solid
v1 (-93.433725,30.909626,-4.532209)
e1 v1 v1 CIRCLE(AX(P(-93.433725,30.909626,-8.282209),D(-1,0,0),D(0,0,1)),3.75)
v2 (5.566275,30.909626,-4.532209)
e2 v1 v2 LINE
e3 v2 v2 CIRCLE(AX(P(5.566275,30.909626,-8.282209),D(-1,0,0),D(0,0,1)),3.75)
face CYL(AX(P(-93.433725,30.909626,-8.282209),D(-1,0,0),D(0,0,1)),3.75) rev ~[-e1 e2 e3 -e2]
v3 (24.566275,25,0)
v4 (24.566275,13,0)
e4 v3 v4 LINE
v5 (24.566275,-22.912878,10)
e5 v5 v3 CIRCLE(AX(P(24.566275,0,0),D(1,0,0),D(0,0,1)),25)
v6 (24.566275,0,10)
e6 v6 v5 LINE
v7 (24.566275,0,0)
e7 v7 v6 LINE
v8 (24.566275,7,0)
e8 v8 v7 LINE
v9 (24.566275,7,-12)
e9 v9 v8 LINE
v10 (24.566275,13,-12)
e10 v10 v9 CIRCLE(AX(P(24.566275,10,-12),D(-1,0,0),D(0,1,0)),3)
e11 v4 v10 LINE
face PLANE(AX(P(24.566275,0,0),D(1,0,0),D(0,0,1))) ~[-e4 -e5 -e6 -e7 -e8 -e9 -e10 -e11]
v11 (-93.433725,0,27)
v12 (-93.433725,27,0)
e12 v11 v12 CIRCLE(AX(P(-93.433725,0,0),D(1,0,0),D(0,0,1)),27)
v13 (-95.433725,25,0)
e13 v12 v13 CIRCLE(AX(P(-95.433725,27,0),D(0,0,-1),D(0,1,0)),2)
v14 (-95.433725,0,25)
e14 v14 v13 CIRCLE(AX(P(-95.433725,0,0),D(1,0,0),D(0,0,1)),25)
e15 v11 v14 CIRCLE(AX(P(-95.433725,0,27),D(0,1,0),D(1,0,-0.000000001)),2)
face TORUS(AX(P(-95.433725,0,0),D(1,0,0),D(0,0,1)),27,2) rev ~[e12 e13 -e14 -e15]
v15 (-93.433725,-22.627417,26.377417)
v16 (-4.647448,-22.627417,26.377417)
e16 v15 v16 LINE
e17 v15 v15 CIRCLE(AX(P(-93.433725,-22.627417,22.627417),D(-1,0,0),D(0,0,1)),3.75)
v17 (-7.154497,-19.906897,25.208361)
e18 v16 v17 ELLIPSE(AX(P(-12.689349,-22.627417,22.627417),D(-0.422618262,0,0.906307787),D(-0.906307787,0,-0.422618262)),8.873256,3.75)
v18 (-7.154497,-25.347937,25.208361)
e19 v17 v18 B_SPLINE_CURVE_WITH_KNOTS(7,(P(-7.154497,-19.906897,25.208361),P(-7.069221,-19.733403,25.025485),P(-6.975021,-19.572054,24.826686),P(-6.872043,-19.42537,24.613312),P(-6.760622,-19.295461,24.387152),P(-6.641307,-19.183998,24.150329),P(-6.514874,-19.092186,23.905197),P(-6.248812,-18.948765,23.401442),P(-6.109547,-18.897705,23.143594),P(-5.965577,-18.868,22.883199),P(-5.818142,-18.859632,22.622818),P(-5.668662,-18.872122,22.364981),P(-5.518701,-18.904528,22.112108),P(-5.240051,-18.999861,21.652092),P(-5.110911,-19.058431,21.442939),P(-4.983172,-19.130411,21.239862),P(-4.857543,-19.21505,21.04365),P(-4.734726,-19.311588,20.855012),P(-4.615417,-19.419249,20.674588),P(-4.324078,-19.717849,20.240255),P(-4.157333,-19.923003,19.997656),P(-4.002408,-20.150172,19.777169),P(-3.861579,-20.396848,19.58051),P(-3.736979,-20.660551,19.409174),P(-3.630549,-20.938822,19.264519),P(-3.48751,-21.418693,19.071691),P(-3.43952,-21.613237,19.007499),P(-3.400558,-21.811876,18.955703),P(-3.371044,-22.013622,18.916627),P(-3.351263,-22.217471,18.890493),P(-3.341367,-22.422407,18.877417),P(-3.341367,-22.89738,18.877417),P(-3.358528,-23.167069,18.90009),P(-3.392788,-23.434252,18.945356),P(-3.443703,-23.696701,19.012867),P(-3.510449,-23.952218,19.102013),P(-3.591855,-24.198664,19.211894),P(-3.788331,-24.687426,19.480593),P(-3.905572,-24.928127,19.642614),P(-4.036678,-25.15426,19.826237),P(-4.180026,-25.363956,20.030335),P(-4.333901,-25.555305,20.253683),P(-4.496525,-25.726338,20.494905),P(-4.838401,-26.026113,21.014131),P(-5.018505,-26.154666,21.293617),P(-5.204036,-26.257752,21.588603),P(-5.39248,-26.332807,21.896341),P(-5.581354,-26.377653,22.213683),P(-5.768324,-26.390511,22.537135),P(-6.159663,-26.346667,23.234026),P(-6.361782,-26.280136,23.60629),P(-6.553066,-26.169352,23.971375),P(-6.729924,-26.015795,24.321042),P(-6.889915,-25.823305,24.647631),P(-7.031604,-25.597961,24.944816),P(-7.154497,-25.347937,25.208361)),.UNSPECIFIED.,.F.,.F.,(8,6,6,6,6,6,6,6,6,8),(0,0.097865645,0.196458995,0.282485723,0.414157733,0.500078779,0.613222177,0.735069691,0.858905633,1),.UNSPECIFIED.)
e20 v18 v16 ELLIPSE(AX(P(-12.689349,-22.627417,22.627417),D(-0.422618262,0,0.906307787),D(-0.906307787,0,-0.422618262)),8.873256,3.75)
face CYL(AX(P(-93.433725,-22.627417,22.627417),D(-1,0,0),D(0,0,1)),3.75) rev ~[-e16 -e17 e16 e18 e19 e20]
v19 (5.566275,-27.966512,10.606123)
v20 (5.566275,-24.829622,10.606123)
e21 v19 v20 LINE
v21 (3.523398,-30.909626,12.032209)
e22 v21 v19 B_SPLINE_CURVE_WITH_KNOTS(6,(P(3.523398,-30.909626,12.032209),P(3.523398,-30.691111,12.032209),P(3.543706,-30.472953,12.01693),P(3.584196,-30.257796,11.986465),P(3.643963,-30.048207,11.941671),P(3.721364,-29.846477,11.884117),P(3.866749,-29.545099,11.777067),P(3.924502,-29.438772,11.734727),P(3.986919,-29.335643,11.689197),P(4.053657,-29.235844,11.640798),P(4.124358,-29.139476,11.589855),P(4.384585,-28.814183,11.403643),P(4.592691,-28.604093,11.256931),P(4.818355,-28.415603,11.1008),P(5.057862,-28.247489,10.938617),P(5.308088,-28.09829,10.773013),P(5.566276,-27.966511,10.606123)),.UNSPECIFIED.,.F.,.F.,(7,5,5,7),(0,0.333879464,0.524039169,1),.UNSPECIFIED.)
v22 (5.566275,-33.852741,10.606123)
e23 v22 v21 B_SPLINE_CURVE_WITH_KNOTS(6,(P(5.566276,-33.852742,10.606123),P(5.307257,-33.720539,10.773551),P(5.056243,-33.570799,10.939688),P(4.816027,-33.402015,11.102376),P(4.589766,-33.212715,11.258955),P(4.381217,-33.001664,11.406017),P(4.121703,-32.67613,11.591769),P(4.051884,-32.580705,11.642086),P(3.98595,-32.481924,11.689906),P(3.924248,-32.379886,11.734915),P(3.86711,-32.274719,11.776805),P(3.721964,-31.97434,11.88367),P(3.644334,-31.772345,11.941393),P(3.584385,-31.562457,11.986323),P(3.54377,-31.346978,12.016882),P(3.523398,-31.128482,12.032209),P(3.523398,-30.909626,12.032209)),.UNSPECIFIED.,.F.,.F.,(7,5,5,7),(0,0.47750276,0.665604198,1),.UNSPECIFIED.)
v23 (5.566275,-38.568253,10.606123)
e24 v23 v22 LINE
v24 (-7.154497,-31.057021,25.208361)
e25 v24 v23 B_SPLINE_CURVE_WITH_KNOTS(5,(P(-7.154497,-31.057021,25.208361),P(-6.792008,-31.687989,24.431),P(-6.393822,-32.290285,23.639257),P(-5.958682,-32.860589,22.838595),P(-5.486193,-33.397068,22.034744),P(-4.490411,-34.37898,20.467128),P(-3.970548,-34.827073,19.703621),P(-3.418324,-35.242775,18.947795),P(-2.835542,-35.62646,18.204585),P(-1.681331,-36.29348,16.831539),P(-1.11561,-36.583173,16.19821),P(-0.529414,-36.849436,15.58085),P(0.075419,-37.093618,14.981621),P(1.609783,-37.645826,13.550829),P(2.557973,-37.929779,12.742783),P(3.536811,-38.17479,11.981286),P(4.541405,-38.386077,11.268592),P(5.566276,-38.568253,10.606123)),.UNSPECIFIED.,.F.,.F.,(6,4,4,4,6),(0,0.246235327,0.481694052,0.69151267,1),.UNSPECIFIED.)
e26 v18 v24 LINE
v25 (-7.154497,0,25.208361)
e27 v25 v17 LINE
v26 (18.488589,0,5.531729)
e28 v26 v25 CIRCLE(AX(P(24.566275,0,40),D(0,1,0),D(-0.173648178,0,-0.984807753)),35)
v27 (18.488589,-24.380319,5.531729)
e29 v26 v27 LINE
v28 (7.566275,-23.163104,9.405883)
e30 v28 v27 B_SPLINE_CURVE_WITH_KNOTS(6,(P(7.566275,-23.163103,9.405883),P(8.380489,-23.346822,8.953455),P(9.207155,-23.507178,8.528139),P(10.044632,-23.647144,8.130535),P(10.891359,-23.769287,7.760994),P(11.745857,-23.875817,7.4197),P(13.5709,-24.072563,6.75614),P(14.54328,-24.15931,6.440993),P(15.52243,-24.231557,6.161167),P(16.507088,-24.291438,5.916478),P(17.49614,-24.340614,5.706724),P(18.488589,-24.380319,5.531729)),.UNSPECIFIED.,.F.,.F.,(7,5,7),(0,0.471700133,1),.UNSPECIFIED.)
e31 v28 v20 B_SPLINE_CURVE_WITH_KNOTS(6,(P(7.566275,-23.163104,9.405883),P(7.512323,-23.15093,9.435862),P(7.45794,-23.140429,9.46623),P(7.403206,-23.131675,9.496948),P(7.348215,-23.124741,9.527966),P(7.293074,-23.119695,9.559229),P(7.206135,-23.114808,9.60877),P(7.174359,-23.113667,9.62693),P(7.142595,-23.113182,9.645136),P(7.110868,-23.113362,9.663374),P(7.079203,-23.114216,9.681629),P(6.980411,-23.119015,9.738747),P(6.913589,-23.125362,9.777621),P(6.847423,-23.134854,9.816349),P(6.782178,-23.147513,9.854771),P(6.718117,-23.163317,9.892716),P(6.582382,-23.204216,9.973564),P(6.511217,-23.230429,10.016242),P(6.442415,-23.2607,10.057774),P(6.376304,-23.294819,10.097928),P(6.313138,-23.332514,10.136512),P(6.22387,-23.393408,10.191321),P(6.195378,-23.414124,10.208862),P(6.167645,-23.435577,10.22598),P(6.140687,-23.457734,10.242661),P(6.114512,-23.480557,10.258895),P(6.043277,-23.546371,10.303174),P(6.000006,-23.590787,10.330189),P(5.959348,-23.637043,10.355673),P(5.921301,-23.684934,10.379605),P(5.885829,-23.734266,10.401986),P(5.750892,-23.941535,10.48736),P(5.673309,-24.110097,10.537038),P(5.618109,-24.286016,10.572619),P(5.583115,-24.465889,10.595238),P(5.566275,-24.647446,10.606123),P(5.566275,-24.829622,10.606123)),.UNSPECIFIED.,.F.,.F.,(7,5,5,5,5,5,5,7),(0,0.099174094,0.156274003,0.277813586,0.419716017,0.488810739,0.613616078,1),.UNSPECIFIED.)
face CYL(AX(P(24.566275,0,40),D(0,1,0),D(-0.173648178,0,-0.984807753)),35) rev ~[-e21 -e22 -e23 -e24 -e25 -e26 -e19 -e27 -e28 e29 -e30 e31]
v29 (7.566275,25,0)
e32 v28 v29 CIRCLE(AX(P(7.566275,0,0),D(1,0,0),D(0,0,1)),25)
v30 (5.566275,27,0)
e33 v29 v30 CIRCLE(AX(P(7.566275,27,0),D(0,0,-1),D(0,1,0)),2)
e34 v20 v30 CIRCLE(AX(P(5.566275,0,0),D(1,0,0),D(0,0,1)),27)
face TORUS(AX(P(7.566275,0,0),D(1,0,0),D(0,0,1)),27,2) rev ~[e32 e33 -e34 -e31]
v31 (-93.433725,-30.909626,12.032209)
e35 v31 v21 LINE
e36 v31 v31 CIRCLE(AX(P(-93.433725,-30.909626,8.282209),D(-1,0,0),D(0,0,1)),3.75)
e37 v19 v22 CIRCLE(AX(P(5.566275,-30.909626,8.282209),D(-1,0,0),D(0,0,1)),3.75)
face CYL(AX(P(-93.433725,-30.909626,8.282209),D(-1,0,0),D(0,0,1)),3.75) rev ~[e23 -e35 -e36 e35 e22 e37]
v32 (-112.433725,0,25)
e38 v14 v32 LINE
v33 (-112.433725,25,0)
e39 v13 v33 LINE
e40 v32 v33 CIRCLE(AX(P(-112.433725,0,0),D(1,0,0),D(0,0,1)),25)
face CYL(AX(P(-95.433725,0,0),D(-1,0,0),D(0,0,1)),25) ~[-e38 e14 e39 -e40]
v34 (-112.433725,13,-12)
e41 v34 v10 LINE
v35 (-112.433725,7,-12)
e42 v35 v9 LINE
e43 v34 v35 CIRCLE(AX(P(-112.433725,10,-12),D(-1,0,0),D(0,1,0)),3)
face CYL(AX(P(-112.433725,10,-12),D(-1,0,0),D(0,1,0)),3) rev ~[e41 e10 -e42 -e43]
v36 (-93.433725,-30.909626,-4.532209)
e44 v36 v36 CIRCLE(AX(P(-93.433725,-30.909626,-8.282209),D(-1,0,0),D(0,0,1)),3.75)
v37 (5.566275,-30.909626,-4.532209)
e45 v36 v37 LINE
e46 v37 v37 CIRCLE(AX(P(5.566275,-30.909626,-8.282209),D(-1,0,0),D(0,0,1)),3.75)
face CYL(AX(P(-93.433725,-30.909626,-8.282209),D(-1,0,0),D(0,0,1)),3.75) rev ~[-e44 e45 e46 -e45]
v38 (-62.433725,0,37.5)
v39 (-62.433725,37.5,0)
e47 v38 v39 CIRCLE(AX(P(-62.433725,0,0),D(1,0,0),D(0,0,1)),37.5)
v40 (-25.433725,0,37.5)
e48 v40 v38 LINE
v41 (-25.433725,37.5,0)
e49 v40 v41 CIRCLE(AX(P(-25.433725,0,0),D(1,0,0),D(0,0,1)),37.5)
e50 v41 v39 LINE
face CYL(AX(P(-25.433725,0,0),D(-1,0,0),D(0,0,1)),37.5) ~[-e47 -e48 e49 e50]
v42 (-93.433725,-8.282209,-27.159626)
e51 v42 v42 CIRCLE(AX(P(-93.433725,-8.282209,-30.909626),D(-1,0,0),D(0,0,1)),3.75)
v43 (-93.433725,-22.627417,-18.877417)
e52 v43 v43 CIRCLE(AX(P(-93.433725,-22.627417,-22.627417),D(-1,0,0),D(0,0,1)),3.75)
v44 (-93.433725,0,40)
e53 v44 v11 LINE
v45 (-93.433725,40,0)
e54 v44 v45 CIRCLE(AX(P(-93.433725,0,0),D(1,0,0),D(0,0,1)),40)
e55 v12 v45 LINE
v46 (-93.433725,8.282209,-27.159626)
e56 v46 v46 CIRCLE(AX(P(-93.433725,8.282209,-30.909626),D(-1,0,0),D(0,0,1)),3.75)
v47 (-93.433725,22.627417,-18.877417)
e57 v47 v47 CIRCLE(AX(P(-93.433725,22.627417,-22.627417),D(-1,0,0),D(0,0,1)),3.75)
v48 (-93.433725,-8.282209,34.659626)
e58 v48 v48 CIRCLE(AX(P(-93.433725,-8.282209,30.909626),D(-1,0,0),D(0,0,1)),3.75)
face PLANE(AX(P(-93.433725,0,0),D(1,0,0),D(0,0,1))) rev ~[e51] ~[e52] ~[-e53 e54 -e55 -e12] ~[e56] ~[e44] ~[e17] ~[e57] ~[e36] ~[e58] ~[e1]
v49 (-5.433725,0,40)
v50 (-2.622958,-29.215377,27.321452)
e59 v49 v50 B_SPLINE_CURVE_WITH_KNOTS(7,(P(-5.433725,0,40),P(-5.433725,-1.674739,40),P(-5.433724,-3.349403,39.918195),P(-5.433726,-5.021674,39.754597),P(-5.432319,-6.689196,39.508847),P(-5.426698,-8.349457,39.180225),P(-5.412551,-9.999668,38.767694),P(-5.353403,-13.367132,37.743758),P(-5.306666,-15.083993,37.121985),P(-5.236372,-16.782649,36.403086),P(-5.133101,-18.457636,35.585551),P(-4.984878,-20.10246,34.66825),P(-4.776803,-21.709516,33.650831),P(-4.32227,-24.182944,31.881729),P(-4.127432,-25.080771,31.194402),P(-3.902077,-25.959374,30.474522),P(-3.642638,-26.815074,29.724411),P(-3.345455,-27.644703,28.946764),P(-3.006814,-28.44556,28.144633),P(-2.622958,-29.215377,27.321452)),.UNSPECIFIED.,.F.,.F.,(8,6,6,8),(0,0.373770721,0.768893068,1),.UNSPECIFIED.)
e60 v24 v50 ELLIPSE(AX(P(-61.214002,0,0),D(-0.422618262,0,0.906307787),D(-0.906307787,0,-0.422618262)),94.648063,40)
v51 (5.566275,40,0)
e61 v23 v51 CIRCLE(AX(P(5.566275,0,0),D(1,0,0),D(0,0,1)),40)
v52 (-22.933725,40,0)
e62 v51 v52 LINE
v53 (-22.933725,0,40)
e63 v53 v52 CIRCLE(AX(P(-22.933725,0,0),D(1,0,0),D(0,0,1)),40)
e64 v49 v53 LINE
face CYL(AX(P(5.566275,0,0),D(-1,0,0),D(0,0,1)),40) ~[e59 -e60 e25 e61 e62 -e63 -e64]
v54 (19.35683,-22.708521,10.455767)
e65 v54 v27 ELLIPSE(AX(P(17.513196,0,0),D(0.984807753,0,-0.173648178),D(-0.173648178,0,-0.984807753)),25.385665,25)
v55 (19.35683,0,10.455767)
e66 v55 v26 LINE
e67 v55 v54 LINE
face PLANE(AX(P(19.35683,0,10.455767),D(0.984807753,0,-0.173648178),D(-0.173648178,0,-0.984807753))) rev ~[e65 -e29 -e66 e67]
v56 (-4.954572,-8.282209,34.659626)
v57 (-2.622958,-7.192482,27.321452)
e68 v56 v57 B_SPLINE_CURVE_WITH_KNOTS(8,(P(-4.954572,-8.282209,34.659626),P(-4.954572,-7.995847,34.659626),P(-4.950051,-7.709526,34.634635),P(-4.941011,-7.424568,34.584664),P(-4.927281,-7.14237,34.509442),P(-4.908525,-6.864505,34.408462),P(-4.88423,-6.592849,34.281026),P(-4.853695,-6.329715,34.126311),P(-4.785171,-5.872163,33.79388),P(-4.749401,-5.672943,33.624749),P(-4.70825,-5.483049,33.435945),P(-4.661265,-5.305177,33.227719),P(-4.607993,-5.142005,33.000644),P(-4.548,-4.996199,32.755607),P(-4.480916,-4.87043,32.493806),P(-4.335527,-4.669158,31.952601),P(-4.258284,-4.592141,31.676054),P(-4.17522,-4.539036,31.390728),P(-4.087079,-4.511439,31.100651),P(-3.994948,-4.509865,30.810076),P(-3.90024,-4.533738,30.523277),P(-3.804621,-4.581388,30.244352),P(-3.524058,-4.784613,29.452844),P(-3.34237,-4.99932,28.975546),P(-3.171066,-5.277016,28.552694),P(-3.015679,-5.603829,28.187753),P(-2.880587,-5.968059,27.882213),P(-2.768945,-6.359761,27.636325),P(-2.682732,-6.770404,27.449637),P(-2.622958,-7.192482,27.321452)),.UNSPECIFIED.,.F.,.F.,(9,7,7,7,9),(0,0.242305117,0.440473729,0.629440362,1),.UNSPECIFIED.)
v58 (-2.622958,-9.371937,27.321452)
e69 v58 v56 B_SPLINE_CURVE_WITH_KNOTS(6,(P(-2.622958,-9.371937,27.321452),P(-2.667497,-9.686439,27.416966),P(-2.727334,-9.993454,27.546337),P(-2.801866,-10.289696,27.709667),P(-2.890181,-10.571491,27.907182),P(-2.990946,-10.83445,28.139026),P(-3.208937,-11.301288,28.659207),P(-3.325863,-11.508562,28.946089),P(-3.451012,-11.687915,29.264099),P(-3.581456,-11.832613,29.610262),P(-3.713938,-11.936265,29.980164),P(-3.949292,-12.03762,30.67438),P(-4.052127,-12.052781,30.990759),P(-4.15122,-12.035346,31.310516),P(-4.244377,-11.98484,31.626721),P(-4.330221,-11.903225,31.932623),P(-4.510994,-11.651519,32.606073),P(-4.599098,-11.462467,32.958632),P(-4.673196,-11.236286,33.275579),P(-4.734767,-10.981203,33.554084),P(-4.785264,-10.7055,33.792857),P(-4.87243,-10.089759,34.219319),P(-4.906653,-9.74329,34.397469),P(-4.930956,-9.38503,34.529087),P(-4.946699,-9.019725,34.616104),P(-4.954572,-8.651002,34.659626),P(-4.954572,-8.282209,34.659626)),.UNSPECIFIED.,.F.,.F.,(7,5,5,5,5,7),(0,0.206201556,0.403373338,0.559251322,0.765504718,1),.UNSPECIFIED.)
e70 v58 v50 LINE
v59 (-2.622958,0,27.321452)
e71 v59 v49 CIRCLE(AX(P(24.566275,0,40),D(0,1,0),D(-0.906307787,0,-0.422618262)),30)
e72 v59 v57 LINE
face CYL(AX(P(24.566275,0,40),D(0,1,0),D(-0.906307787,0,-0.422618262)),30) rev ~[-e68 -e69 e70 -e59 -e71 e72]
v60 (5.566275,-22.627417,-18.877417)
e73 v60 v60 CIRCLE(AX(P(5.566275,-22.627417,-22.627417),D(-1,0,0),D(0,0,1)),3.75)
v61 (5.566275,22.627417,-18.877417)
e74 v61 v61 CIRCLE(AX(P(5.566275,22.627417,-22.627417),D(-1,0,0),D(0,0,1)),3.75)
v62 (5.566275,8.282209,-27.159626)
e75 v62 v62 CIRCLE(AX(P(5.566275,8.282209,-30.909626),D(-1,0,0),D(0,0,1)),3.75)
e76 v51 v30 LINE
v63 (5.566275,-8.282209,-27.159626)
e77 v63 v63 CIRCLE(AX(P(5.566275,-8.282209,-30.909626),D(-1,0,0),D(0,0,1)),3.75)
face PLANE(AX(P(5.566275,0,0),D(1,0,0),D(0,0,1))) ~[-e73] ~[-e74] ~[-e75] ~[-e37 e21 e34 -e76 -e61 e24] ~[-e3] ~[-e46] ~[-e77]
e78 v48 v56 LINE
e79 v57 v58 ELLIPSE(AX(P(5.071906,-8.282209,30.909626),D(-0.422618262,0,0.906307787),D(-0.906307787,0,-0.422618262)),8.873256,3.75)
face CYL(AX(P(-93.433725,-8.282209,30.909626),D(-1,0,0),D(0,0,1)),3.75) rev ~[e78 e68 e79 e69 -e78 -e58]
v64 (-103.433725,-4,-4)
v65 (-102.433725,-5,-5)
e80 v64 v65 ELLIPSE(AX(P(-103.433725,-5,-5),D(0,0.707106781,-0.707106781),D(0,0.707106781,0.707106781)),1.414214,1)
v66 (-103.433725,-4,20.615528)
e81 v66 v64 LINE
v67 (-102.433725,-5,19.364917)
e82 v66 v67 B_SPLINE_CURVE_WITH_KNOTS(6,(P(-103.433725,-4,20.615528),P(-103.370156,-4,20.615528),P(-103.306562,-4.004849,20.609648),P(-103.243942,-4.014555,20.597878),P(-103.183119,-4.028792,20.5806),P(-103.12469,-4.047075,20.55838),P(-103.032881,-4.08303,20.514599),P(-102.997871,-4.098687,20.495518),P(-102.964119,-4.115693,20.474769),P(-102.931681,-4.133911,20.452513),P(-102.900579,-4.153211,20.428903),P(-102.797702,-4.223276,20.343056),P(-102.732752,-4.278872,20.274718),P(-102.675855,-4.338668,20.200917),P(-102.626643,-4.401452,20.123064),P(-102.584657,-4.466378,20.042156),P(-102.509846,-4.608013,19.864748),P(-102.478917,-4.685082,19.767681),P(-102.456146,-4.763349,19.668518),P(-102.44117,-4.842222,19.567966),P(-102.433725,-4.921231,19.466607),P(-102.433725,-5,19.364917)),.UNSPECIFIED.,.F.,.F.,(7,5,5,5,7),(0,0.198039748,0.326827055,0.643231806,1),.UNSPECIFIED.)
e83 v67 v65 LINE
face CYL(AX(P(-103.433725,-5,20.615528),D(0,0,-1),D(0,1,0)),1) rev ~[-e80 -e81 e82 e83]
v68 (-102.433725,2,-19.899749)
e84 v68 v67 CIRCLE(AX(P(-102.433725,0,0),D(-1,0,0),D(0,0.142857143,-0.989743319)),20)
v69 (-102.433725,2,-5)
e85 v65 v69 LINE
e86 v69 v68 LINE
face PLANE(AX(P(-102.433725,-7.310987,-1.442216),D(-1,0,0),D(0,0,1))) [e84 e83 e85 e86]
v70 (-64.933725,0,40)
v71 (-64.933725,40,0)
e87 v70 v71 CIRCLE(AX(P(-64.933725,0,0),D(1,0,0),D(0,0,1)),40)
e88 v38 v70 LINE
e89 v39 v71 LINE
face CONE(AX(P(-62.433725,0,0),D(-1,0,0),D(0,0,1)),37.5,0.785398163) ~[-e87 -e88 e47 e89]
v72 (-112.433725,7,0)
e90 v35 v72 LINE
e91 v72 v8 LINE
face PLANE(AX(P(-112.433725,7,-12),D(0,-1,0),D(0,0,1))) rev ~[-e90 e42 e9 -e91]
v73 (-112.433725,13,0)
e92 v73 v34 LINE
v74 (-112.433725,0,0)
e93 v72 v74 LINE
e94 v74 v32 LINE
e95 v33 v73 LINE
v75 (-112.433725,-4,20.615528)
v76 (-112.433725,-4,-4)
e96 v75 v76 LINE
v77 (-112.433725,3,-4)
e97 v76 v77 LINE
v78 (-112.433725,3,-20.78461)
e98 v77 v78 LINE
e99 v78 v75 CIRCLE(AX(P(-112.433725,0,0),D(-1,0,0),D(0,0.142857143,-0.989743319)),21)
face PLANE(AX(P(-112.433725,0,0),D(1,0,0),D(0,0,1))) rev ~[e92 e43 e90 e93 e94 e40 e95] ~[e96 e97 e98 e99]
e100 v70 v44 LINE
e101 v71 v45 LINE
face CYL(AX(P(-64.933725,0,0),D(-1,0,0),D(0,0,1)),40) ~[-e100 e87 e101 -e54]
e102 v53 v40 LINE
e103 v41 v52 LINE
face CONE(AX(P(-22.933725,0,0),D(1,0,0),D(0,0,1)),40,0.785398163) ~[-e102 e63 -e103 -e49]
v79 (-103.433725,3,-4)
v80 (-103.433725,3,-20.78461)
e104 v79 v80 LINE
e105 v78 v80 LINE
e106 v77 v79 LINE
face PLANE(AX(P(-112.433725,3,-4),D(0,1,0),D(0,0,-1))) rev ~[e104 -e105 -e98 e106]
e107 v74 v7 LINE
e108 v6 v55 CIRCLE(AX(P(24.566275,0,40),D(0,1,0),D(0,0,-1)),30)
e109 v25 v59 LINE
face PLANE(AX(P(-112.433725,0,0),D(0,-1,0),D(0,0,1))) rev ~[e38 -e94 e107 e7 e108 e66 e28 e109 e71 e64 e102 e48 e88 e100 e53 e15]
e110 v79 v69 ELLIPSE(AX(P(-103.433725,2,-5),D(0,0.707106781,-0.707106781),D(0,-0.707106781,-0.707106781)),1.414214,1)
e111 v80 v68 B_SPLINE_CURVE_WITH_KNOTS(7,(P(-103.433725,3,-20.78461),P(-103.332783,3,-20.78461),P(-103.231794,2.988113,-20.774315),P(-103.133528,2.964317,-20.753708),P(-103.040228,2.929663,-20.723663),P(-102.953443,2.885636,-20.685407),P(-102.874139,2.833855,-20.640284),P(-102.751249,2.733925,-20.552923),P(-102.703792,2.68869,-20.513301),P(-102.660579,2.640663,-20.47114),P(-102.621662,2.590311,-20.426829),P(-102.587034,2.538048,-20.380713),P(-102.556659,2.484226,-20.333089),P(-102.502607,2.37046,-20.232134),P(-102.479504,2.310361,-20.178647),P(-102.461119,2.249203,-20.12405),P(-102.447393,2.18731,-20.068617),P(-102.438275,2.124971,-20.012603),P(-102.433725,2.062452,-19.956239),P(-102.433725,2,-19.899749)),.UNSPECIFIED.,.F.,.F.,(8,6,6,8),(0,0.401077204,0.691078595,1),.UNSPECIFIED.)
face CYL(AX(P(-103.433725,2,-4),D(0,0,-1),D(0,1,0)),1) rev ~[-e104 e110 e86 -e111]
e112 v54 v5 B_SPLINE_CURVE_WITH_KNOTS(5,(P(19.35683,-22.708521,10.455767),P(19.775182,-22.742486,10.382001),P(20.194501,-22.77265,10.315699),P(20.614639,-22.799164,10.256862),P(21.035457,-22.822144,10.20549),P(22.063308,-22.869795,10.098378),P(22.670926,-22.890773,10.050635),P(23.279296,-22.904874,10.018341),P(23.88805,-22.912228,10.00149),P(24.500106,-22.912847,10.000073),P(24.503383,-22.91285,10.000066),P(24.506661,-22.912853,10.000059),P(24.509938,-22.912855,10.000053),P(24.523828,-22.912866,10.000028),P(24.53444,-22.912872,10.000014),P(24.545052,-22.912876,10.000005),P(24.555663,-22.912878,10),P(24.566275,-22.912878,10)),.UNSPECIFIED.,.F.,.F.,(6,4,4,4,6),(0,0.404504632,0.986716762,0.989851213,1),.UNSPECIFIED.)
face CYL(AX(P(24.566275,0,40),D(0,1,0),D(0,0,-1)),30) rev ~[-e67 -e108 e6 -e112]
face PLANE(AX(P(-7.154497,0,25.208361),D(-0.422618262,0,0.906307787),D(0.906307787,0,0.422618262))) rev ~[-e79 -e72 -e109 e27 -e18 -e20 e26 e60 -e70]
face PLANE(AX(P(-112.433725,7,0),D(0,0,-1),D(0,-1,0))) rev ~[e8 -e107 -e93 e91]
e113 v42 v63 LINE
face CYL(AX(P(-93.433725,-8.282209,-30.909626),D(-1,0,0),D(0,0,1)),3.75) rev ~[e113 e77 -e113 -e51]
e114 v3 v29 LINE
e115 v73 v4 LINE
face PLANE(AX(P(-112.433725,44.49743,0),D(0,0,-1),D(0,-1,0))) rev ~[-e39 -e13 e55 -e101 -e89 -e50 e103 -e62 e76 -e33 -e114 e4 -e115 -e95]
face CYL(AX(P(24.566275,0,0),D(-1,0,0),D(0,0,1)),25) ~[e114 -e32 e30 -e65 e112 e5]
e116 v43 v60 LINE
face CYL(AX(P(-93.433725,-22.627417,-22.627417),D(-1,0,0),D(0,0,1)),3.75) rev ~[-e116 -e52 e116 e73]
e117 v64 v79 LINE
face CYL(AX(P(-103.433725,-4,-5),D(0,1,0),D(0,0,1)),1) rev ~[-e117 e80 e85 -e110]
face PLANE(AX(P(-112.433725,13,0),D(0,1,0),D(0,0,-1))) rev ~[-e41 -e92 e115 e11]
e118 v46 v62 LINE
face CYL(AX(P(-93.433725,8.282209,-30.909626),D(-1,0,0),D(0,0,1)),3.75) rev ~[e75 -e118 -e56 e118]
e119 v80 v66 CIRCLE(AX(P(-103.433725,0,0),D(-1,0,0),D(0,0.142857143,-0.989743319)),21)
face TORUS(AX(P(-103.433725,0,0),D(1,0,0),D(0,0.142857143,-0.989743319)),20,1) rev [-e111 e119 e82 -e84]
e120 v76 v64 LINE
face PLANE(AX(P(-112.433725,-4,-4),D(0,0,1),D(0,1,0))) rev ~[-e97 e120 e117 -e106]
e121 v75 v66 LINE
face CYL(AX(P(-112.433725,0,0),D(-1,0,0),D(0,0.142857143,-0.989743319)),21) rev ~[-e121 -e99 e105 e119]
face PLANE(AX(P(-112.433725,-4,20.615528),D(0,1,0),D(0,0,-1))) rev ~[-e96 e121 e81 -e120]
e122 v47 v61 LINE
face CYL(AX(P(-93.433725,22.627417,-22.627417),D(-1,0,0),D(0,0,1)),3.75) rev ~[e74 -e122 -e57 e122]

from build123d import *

# Parameters (mm, degrees)
ENL_V_MAT_EXTRU_1_DEPTH = 149.219431924
ESQUISSE3_R             = 3.75
ENL_V_MAT_EXTRU_2_DEPTH = 131.858702424
ENL_V_MAT_EXTRU_3_DEPTH = 126.862394907
ENL_V_MAT_EXTRU_4_DEPTH = 10
CONG_1_R                = 1


with BuildPart() as part:
    # Esquisse1 → Révolution1 (revolve)
    with BuildSketch(Plane.XY, mode=Mode.PRIVATE) as r_volution1_sk:
        with BuildLine():
            Line((0, 0), (24.566275292, 0))
            Line((24.566275292, 0), (24.566275292, 25))
            Line((24.566275292, 25), (7.566275292, 25))
            ThreePointArc((7.566275292, 25), (6.152061729, 25.585786438), (5.566275292, 27))
            Line((5.566275292, 27), (5.566275292, 40))
            Line((5.566275292, 40), (-22.933724708, 40))
            Line((-22.933724708, 40), (-25.433724708, 37.5))
            Line((-25.433724708, 37.5), (-62.433724708, 37.5))
            Line((-62.433724708, 37.5), (-64.933724708, 40))
            Line((-64.933724708, 40), (-93.433724708, 40))
            Line((-93.433724708, 40), (-93.433724708, 27))
            ThreePointArc((-93.433724708, 27), (-94.019511146, 25.585786438), (-95.433724708, 25))
            Line((-95.433724708, 25), (-112.433724708, 25))
            Line((-112.433724708, 25), (-112.433724708, 0))
            Line((-112.433724708, 0), (0, 0))
        make_face()
    revolve(r_volution1_sk.sketch.rotate(Axis((-130.768922499, 0, 0), (1, 0, 0)), 90), axis=Axis((-130.768922499, 0, 0), (1, 0, 0)))

    # Esquisse2 → Enlèv. mat.-Extru.1 (cut, through all)
    with BuildSketch(Plane.ZY.offset(112.433724708)):
        with BuildLine():
            Line((0, 7), (0, 0))
            Line((0, 0), (43.449782835, 0))
            Line((43.449782835, 0), (43.449782835, 44.497429883))
            Line((43.449782835, 44.497429883), (0, 44.497429883))
            Line((0, 44.497429883), (0, 13))
            ThreePointArc((0, 13), (3, 10), (0, 7))
        make_face()
        with BuildLine():
            Line((-12, 7), (0, 7))
            ThreePointArc((0, 7), (3, 10), (0, 13))
            Line((0, 13), (-12, 13))
            ThreePointArc((-12, 13), (-15, 10), (-12, 7))
        make_face()
    extrude(amount=-ENL_V_MAT_EXTRU_1_DEPTH, mode=Mode.SUBTRACT)

    # Esquisse3 → Enlèv. mat.-Extru.2 (cut, through all)
    with BuildSketch(Plane.ZY.offset(93.433724708)):
        with Locations((-8.282209443, 30.909626441)):
            Circle(ESQUISSE3_R)
        with Locations((-22.627416998, 22.627416998)):
            Circle(ESQUISSE3_R)
        with Locations((-30.909626441, 8.282209443)):
            Circle(ESQUISSE3_R)
        with Locations((-30.909626441, -8.282209443)):
            Circle(ESQUISSE3_R)
        with Locations((-22.627416998, -22.627416998)):
            Circle(ESQUISSE3_R)
        with Locations((-8.282209443, -30.909626441)):
            Circle(ESQUISSE3_R)
        with Locations((8.282209443, -30.909626441)):
            Circle(ESQUISSE3_R)
        with Locations((22.627416998, -22.627416998)):
            Circle(ESQUISSE3_R)
        with Locations((30.909626441, -8.282209443)):
            Circle(ESQUISSE3_R)
    extrude(amount=-ENL_V_MAT_EXTRU_2_DEPTH, mode=Mode.SUBTRACT)

    # Esquisse4 → Enlèv. mat.-Extru.3 (cut, through all)
    with BuildSketch(Plane(origin=(0, 0, 0), x_dir=(1, 0, 0), z_dir=(0, 1, 0))):
        with BuildLine():
            Line((5.566275292, -31.140154495), (24.566275292, -40))
            Line((24.566275292, -40), (21.921370581, -25))
            Line((21.921370581, -25), (7.566275292, -25))
            ThreePointArc((7.566275292, -25), (6.152061729, -25.585786438), (5.566275292, -27))
            Line((5.566275292, -27), (5.566275292, -31.140154495))
        make_face()
        with BuildLine():
            Line((-5.433724708, -40), (5.566275292, -40))
            Line((5.566275292, -40), (5.566275292, -31.140154495))
            Line((5.566275292, -31.140154495), (-2.622958319, -27.321452148))
            ThreePointArc((-2.622958319, -27.321452148), (-4.722604922, -33.506811582), (-5.433724708, -40))
        make_face()
        with BuildLine():
            Line((-2.622958319, -27.321452148), (5.566275292, -31.140154495))
            Line((5.566275292, -31.140154495), (5.566275292, -27))
            ThreePointArc((5.566275292, -27), (6.152061729, -25.585786438), (7.566275292, -25))
            Line((7.566275292, -25), (21.921370581, -25))
            Line((21.921370581, -25), (19.356829962, -10.45576741))
            ThreePointArc((19.356829962, -10.45576741), (6.303432421, -16.199399791), (-2.622958319, -27.321452148))
        make_face()
        Polygon((5.566275292, -40), (24.566275292, -40), (5.566275292, -31.140154495), align=None)
        with BuildLine():
            Line((-7.154497255, -25.208360839), (-2.622958319, -27.321452148))
            ThreePointArc((-2.622958319, -27.321452148), (6.303432421, -16.199399791), (19.356829962, -10.45576741))
            Line((19.356829962, -10.45576741), (18.488589073, -5.531728645))
            ThreePointArc((18.488589073, -5.531728645), (3.259625276, -12.23263309), (-7.154497255, -25.208360839))
        make_face()
        with BuildLine():
            Line((21.921370581, -25), (24.566275292, -25))
            Line((24.566275292, -25), (24.566275292, -10))
            ThreePointArc((24.566275292, -10), (21.951603009, -10.114159057), (19.356829962, -10.45576741))
            Line((19.356829962, -10.45576741), (21.921370581, -25))
        make_face()
        Polygon((21.921370581, -25), (24.566275292, -40), (24.566275292, -25), align=None)
    extrude(amount=-ENL_V_MAT_EXTRU_3_DEPTH, mode=Mode.SUBTRACT)

    # Esquisse5 → Enlèv. mat.-Extru.4 (cut)
    with BuildSketch(Plane.ZY.offset(112.433724708)):
        with BuildLine():
            Line((20.615528128, -4), (-4, -4))
            Line((-4, -4), (-4, 3))
            Line((-4, 3), (-20.784609691, 3))
            ThreePointArc((-20.784609691, 3), (-3.501020872, -20.706106656), (20.615528128, -4))
        make_face()
    extrude(amount=-ENL_V_MAT_EXTRU_4_DEPTH, mode=Mode.SUBTRACT)

    # Congé1
    cong_1_edges = [part.edges().sort_by_distance(p)[0] for p in [
        (-102.433724708, -20.706106656, -3.501020872),
        (-102.433724708, 3, -12.392304845),
        (-102.433724708, -0.5, -4),
        (-102.433724708, -4, 8.307764064),
    ]]
    fillet(cong_1_edges, radius=CONG_1_R)


solid = part.part
